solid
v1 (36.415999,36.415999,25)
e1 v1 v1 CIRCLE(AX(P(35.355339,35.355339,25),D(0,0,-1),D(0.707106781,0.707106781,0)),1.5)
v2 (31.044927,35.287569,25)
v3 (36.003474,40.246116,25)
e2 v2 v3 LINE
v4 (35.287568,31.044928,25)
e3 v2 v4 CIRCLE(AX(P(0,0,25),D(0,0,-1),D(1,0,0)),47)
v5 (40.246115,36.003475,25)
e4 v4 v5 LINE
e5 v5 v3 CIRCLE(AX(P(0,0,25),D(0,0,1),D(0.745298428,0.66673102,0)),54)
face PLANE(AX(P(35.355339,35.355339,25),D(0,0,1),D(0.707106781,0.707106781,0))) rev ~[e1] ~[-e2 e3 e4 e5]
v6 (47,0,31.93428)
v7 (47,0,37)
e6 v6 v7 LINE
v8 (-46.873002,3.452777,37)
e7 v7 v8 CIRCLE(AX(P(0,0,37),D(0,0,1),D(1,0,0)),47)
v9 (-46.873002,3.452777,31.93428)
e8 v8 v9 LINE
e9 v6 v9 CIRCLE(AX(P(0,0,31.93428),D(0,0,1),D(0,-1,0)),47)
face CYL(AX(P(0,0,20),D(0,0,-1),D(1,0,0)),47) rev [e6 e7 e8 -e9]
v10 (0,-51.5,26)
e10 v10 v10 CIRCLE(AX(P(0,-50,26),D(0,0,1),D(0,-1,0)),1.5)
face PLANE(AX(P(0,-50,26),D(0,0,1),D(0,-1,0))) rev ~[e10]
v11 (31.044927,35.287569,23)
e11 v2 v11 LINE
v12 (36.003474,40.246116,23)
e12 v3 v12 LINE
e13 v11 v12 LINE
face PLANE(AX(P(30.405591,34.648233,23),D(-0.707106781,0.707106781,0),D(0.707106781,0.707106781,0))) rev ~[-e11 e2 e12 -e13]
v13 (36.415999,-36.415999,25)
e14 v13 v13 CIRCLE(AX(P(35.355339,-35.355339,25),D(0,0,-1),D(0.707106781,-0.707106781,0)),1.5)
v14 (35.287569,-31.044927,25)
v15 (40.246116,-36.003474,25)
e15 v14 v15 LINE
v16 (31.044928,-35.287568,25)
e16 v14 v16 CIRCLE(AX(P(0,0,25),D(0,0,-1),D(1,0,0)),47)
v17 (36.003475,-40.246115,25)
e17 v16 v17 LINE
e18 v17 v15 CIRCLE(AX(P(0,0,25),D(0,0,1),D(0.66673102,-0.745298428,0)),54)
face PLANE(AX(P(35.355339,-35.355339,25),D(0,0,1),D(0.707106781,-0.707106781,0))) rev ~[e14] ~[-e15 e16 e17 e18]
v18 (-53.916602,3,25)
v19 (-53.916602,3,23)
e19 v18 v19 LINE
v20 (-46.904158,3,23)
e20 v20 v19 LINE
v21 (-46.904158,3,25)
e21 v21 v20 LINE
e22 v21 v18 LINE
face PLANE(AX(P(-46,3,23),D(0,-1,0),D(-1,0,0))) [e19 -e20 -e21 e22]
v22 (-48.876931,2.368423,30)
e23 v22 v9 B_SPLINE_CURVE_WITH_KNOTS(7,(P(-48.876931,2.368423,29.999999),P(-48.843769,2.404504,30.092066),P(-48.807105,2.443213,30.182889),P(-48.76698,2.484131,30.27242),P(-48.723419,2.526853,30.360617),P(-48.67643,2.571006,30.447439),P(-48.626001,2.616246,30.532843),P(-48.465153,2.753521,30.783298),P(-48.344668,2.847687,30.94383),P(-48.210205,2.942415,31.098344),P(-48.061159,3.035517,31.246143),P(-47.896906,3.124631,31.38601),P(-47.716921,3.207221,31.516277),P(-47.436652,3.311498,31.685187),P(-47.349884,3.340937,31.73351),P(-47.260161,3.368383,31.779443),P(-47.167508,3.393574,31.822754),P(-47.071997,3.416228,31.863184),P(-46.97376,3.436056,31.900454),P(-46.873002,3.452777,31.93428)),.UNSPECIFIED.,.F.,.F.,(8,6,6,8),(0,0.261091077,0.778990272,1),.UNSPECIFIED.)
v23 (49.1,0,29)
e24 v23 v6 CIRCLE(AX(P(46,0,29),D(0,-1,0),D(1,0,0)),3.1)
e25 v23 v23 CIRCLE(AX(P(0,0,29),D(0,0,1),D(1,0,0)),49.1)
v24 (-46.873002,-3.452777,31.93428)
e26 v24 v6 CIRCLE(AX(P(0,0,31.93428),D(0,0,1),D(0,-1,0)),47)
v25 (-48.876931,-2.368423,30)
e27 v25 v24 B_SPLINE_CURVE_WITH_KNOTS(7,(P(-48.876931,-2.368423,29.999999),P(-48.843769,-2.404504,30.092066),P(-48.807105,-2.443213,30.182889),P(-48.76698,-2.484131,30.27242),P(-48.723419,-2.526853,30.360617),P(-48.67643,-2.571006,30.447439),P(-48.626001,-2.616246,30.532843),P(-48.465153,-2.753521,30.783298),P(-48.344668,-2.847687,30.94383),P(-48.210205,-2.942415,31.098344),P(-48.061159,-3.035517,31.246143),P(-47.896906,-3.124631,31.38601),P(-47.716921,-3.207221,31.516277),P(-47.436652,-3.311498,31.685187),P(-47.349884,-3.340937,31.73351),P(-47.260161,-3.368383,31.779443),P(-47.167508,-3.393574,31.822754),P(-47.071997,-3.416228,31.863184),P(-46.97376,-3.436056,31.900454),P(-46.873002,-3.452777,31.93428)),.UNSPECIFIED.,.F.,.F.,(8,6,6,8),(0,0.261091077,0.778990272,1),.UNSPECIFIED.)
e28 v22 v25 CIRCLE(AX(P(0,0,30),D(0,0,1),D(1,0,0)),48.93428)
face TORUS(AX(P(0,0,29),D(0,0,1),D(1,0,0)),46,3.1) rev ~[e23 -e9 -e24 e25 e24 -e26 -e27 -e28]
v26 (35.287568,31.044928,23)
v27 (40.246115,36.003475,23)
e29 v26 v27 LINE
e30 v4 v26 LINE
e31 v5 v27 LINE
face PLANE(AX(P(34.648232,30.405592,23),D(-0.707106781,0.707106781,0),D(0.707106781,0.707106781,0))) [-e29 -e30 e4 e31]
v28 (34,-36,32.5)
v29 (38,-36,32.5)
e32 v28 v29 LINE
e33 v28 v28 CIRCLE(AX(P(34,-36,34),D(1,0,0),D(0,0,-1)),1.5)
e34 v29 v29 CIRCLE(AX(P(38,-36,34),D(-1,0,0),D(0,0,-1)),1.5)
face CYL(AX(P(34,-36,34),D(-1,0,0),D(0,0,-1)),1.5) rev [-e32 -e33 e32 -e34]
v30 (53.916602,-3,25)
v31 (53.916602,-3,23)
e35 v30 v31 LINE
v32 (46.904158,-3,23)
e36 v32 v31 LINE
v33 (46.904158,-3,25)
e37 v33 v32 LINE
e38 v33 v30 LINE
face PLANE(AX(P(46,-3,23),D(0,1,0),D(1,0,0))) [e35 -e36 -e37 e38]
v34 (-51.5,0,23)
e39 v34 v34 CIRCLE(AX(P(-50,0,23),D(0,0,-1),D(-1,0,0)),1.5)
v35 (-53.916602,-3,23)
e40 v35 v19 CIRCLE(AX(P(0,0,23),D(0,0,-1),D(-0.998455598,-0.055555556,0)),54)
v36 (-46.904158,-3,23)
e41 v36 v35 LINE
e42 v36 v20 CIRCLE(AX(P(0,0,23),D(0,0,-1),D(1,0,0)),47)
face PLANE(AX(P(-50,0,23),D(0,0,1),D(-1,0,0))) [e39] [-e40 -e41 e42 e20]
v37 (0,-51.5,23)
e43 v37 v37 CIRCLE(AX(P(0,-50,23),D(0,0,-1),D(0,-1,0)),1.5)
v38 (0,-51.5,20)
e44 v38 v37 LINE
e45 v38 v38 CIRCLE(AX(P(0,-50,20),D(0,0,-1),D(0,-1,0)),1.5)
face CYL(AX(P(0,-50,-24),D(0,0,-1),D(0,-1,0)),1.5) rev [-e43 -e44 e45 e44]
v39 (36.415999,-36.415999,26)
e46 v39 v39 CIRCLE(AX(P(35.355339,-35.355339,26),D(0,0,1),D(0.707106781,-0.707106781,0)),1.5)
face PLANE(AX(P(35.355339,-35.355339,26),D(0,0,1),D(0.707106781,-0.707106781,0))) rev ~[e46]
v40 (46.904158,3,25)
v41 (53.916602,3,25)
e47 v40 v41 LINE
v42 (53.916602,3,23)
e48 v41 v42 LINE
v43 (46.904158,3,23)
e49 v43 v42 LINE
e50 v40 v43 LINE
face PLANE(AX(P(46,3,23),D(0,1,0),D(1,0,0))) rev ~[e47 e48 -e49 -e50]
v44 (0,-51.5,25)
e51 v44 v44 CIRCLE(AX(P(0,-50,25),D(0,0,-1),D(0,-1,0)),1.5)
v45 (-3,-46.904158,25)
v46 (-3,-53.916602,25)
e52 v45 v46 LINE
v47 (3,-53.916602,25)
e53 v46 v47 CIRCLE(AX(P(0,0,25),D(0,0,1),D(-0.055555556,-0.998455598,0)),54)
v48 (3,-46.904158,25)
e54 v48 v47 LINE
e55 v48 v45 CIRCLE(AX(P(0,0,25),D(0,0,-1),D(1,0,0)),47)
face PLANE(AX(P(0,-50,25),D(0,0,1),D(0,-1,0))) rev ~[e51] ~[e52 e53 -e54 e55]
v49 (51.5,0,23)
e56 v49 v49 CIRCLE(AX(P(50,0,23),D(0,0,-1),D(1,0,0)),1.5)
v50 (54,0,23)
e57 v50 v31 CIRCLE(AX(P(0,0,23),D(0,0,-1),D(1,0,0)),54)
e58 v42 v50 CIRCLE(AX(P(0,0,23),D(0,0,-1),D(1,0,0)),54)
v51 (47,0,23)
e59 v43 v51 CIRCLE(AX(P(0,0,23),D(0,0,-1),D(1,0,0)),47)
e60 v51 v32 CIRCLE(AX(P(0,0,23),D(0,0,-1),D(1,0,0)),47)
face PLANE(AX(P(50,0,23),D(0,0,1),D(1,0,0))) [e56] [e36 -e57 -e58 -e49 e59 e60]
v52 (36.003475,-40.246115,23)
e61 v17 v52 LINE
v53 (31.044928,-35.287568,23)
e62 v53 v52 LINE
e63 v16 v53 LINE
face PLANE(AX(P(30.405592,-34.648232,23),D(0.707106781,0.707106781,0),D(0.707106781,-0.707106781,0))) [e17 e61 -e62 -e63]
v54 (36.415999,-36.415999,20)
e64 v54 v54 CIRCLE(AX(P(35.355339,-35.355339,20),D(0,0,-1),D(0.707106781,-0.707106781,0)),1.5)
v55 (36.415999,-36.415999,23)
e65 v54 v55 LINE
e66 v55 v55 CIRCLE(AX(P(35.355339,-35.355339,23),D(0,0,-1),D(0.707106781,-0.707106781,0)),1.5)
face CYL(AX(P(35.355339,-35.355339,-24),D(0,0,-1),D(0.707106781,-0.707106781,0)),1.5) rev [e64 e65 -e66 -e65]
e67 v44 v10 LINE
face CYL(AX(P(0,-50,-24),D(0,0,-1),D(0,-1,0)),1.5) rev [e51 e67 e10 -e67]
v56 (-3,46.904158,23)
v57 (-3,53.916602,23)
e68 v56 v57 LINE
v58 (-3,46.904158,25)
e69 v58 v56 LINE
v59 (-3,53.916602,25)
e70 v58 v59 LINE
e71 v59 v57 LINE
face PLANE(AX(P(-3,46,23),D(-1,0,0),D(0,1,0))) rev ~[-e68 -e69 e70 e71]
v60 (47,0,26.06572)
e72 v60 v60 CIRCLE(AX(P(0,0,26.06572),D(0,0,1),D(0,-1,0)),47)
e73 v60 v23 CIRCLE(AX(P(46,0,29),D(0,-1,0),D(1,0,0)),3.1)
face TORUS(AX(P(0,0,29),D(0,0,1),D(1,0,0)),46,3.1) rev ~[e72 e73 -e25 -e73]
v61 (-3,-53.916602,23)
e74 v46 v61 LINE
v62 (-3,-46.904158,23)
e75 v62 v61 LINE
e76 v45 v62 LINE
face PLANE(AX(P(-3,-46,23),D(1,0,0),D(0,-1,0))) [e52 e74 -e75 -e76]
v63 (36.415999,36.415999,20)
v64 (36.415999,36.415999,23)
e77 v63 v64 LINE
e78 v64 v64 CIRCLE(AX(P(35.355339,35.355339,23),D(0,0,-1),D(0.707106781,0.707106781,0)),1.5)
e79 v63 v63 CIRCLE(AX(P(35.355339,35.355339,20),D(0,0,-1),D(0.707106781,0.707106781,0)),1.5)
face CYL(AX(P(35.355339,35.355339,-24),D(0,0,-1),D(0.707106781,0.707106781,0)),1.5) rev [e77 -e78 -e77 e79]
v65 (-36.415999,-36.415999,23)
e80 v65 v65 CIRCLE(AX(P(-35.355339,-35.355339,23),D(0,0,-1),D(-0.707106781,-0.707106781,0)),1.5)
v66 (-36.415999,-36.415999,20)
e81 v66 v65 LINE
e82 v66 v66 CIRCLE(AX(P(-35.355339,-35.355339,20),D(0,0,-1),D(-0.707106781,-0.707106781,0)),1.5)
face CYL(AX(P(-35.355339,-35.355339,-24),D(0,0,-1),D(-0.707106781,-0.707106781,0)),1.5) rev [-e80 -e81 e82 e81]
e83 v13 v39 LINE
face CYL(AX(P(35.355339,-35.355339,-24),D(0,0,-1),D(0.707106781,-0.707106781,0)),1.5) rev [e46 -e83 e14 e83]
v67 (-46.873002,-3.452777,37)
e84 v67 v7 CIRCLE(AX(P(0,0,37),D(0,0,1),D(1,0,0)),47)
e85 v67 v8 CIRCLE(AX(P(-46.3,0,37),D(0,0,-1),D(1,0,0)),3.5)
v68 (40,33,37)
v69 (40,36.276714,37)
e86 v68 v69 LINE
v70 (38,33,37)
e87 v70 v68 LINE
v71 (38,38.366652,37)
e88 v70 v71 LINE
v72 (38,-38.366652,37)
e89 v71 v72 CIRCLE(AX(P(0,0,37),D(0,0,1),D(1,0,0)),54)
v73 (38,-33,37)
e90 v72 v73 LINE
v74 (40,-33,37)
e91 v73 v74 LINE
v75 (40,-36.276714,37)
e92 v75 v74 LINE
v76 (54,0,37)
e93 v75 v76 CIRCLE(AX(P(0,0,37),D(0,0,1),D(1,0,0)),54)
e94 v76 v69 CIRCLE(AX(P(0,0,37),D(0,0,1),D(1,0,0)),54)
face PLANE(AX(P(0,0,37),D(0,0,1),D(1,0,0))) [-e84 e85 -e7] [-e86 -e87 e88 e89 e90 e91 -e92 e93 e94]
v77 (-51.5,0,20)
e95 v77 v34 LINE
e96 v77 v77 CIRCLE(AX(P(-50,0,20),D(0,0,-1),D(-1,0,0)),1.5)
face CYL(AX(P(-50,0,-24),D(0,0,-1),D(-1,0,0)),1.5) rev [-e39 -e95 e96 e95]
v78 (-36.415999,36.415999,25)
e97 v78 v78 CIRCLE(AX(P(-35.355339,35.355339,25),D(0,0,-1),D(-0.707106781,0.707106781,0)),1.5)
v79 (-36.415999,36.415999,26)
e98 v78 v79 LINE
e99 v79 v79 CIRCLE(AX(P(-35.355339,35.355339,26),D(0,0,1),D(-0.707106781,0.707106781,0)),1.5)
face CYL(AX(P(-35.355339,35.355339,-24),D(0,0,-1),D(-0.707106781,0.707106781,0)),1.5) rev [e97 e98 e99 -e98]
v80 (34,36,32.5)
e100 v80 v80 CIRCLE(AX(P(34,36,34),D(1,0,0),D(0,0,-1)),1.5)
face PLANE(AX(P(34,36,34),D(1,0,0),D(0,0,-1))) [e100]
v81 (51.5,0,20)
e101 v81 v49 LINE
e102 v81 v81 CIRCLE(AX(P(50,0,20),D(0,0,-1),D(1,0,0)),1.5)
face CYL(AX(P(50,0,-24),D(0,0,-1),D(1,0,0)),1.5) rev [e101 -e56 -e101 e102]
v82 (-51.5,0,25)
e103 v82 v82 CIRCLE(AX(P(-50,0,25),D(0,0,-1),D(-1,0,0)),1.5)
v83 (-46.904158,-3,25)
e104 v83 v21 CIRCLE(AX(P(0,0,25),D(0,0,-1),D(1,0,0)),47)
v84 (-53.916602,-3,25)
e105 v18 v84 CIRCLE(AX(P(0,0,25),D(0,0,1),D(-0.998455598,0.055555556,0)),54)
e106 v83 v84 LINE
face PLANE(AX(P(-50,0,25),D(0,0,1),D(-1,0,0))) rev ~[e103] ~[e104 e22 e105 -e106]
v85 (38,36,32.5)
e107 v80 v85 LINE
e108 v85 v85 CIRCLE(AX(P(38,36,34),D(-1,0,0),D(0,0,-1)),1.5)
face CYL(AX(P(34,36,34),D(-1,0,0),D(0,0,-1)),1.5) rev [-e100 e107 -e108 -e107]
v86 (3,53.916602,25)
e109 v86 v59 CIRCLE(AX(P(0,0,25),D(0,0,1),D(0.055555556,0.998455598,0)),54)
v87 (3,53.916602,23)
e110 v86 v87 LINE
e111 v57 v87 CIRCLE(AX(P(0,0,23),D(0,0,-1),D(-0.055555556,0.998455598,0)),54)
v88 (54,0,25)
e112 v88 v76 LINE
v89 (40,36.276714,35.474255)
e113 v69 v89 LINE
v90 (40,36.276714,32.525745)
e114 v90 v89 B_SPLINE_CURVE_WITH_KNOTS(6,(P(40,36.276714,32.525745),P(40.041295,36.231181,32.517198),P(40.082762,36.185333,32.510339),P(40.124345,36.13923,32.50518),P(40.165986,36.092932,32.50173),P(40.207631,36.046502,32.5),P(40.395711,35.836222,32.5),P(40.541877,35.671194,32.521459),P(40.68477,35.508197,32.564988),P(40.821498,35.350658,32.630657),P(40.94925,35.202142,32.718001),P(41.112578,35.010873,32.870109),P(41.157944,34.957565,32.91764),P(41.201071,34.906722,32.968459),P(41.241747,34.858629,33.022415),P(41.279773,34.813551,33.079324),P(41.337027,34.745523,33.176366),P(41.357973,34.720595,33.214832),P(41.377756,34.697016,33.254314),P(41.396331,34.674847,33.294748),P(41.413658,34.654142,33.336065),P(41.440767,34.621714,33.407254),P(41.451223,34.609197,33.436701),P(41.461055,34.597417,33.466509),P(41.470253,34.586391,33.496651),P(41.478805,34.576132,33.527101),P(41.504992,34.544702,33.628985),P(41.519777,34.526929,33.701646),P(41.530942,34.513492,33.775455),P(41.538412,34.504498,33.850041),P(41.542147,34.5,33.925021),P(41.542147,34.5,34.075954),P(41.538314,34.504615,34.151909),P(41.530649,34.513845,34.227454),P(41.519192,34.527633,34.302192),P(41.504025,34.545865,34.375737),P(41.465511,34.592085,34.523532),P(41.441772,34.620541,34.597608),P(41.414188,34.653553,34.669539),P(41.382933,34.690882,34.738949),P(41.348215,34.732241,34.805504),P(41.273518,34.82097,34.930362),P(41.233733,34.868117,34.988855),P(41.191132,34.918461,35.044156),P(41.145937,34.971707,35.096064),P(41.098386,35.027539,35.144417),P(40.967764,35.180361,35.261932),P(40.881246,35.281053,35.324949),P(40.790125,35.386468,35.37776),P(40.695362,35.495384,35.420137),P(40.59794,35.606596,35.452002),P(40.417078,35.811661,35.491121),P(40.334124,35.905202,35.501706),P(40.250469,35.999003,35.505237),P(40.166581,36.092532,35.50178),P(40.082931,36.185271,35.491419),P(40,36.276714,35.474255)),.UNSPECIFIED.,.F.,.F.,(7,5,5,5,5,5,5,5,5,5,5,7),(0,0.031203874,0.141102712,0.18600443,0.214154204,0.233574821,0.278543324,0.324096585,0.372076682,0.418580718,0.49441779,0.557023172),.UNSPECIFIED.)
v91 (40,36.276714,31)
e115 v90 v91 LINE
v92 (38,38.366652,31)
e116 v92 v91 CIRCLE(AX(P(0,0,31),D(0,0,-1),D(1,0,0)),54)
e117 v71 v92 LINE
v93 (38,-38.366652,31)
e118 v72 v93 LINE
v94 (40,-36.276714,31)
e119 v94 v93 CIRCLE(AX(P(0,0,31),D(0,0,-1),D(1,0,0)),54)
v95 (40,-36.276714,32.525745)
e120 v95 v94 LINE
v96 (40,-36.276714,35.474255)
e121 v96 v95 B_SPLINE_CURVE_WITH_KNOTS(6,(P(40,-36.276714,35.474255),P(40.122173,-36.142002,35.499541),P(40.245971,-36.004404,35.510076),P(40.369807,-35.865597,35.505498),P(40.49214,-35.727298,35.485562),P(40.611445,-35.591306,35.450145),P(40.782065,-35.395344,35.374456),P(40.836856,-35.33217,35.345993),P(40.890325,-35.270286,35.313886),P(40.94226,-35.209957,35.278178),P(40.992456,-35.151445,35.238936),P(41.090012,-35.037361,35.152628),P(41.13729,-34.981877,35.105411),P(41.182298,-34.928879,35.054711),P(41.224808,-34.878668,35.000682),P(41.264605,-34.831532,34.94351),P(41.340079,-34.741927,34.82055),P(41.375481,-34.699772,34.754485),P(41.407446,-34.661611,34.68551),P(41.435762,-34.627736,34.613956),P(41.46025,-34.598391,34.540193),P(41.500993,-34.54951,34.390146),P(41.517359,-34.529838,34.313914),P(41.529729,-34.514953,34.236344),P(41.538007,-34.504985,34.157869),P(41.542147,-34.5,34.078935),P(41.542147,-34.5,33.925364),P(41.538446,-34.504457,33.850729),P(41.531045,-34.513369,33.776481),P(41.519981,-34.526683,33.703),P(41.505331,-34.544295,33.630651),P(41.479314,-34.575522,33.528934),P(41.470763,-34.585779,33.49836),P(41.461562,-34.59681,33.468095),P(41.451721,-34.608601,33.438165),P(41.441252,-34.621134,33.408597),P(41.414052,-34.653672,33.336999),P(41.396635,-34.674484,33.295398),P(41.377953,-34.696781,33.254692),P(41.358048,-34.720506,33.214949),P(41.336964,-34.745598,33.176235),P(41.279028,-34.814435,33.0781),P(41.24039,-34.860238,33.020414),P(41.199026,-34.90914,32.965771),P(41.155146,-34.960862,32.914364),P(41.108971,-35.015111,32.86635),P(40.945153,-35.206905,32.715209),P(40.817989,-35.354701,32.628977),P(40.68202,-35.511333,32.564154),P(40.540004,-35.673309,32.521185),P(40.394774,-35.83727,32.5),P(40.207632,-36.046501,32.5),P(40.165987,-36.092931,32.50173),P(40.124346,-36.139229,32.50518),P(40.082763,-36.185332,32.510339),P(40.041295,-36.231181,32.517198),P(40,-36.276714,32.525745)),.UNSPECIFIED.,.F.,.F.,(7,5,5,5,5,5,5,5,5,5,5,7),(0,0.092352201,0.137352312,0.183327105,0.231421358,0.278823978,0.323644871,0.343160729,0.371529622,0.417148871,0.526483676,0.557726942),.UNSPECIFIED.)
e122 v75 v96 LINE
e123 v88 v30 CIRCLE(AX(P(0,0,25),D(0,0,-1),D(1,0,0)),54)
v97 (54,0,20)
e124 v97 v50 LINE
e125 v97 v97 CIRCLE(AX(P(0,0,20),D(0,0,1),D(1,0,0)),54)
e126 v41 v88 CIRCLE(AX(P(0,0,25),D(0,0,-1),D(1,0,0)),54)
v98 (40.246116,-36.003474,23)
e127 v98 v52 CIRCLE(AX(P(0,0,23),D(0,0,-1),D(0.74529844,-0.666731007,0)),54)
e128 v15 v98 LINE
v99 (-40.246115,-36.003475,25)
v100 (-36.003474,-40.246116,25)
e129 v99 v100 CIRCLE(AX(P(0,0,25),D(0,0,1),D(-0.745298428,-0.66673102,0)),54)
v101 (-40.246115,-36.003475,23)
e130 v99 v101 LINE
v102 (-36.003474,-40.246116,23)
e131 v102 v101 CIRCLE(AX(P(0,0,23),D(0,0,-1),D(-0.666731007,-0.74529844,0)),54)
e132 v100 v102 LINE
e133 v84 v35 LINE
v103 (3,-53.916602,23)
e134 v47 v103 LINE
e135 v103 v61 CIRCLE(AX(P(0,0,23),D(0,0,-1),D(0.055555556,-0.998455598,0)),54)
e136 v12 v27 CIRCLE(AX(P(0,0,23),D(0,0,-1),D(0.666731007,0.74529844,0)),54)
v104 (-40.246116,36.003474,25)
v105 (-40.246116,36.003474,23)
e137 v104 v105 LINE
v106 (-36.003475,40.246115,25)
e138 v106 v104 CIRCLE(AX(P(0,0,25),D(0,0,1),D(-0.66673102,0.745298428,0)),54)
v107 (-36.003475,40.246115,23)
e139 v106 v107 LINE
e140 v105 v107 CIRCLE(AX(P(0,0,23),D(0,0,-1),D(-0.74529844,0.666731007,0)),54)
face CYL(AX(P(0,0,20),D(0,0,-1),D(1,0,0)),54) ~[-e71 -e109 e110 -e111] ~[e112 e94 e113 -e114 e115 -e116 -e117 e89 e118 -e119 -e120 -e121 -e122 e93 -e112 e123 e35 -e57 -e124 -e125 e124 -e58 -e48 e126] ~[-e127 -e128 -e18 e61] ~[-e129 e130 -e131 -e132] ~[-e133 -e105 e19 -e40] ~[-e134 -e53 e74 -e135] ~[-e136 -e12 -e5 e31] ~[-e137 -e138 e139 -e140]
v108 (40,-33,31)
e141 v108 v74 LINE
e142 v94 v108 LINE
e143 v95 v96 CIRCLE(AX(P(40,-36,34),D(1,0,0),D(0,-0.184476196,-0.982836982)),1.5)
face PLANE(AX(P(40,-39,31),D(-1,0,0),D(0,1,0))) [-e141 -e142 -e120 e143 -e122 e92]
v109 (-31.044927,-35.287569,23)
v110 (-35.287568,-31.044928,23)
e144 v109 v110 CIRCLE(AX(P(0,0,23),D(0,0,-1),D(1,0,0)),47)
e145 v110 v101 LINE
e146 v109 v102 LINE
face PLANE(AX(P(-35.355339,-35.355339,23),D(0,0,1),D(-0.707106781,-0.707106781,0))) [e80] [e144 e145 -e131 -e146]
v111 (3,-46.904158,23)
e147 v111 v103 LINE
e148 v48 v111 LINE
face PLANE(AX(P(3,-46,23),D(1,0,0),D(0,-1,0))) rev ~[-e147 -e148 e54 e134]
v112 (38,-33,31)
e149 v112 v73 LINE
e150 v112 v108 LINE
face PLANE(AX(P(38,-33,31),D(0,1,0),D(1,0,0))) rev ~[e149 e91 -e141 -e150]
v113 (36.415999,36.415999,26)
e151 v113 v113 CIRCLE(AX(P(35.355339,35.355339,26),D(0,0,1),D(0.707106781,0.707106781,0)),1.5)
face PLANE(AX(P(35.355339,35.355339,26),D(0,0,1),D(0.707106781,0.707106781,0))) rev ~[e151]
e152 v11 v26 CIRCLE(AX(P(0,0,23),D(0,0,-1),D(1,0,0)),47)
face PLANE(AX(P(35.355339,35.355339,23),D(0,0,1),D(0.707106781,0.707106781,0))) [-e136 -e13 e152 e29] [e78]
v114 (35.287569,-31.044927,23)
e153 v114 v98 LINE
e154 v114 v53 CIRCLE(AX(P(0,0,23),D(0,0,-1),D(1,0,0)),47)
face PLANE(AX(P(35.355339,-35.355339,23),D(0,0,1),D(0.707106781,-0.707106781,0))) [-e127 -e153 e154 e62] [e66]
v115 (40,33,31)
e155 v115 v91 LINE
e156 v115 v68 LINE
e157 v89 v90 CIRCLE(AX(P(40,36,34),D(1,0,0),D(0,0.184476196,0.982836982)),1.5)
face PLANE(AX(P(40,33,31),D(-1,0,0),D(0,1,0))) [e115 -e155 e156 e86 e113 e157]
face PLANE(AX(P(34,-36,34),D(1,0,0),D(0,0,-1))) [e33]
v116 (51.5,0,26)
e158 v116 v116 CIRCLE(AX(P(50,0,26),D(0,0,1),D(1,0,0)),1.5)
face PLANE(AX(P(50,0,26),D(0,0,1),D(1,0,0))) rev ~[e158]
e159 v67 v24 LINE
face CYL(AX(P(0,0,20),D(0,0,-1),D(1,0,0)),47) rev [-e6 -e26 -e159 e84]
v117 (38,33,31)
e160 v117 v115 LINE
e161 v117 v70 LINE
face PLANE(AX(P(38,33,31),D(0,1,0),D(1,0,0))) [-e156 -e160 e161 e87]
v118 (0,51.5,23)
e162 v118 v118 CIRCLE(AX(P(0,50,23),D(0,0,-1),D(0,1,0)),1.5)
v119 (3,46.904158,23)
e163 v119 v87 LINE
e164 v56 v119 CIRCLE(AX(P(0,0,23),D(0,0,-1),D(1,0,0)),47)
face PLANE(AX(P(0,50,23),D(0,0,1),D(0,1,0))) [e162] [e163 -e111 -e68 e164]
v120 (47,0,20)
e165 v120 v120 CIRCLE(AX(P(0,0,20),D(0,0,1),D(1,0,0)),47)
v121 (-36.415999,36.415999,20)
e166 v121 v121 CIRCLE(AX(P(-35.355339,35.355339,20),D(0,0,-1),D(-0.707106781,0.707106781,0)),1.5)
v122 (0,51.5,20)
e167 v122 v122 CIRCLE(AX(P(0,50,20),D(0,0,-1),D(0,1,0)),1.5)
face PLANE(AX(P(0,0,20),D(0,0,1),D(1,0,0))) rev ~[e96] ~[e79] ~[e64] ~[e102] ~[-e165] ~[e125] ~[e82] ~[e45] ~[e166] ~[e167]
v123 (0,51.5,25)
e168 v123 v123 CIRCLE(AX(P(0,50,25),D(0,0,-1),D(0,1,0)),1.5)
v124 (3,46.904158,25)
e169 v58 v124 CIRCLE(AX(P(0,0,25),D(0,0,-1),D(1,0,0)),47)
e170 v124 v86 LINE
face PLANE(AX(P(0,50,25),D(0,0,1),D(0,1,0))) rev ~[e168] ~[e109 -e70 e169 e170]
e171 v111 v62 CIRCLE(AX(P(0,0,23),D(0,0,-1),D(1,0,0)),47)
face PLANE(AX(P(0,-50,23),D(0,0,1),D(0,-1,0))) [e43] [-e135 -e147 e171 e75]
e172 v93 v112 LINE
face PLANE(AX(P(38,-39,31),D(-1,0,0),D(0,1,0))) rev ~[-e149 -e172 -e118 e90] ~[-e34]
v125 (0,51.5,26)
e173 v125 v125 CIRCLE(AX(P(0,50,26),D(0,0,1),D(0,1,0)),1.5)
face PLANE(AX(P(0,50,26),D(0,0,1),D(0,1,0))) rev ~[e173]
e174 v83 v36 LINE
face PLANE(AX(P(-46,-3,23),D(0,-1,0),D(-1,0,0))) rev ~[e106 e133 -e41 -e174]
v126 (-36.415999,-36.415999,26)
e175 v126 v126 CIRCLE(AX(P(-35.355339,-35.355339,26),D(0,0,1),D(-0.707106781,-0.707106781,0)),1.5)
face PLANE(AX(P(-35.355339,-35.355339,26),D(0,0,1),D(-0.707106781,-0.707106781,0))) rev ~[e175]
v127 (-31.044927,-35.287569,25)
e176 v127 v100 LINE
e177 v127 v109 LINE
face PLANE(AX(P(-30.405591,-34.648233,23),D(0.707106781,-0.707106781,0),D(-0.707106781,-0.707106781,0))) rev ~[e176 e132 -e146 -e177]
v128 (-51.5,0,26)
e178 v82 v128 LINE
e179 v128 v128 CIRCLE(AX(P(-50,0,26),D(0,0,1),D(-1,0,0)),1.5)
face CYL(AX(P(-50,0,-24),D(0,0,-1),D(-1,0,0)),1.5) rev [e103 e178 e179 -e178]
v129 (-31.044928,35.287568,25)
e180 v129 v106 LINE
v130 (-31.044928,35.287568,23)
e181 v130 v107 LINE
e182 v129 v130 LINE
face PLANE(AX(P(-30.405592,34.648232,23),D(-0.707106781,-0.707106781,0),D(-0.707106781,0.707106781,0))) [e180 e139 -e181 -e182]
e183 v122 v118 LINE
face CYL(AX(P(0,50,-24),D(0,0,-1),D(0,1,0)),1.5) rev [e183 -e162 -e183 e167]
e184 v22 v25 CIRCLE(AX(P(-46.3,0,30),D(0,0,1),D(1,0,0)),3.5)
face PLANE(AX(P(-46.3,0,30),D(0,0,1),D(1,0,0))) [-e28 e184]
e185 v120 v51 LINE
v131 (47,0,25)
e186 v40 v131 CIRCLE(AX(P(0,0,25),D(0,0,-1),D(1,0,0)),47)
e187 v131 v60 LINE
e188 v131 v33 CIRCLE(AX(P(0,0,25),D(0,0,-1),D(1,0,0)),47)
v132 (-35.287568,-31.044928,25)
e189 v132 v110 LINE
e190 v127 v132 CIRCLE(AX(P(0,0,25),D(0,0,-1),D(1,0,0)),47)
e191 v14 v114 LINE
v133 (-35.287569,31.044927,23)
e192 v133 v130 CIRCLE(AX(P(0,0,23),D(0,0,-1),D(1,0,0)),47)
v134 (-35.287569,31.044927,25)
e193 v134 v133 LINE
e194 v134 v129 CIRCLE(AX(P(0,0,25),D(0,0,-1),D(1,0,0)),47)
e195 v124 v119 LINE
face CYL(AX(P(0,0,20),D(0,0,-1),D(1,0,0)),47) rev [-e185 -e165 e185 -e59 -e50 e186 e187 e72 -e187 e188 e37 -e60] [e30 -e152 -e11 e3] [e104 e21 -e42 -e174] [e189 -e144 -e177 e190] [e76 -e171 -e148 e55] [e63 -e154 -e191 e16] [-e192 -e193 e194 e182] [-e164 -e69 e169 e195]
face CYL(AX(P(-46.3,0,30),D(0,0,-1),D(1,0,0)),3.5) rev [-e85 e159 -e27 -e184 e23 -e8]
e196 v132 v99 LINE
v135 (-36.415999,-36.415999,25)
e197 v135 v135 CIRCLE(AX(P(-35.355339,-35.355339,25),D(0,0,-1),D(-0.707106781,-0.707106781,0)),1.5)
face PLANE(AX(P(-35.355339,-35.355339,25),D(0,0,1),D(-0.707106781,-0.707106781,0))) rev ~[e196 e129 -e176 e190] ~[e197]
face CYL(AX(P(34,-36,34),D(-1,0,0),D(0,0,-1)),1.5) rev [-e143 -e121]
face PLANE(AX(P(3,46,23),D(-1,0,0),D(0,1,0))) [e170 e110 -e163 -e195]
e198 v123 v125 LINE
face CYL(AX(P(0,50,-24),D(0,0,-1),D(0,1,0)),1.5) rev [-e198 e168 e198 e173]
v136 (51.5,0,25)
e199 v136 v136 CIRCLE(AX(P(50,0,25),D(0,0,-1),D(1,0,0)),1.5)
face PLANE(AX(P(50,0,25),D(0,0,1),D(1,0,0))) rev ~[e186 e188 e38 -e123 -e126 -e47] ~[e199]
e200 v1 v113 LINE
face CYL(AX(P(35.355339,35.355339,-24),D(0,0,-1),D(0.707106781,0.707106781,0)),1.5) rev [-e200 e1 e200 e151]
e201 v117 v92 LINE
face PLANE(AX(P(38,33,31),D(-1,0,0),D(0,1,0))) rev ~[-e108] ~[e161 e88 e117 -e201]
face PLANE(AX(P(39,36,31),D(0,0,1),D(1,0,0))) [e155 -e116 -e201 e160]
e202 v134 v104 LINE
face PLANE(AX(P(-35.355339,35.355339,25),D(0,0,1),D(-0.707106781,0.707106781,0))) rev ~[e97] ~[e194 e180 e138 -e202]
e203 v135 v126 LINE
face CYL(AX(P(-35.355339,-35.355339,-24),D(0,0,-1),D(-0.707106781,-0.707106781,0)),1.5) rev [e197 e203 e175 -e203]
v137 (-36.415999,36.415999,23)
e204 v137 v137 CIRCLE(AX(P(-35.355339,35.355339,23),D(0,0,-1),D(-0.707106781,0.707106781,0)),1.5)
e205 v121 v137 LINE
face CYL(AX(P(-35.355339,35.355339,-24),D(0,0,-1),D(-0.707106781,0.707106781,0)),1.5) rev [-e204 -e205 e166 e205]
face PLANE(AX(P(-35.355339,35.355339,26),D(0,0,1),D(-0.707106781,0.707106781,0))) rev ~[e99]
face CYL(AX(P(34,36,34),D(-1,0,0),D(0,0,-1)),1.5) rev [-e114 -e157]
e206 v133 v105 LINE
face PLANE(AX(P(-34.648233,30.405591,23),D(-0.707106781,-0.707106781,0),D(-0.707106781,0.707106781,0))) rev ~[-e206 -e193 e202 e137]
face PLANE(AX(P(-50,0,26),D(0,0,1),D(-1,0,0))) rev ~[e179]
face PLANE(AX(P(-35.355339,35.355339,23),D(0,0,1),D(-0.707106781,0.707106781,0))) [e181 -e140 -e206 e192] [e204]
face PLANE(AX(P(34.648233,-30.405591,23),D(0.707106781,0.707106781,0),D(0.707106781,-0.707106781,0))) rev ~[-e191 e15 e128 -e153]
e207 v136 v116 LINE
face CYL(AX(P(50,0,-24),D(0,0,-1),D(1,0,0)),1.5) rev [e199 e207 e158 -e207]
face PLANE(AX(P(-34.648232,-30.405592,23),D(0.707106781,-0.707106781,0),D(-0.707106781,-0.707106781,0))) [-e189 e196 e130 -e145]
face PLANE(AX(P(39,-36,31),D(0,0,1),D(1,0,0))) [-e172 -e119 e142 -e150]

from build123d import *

# Parameters (mm, degrees)
BOX174_W                    = 2
BOX174_H                    = 6
BOX174_DEPTH                = 6
BOX175_W                    = 2
BOX175_H                    = 6
BOX175_DEPTH                = 6
BOX176_W                    = 2
BOX176_H                    = 6
BOX176_DEPTH                = 6
BOX173_W                    = 2
BOX173_H                    = 6
BOX173_DEPTH                = 6
CYLINDER397_R               = 1.5
CYLINDER397_DEPTH           = 100
CYLINDER398_R               = 1.5
CYLINDER398_DEPTH           = 100
CYLINDER395_R               = 1.5
CYLINDER395_DEPTH           = 100
CYLINDER396_R               = 1.5
CYLINDER396_DEPTH           = 100
CYLINDER375_R               = 1.5
CYLINDER375_DEPTH           = 50
CYLINDER375_PLACEMENT_ANGLE = 45
CYLINDER376_R               = 1.5
CYLINDER376_DEPTH           = 50
CYLINDER377_R               = 1.5
CYLINDER377_DEPTH           = 50
CYLINDER377_PLACEMENT_ANGLE = 135
CYLINDER378_R               = 1.5
CYLINDER378_DEPTH           = 50
CYLINDER379_R               = 1.5
CYLINDER379_DEPTH           = 50
CYLINDER379_PLACEMENT_ANGLE = 225
CYLINDER380_R               = 1.5
CYLINDER380_DEPTH           = 50
CYLINDER381_R               = 1.5
CYLINDER381_DEPTH           = 50
CYLINDER381_PLACEMENT_ANGLE = 45
CYLINDER374_R               = 1.5
CYLINDER374_DEPTH           = 50
BOX158_W                    = 8
BOX158_H                    = 6
BOX158_DEPTH                = 2
BOX158_PLACEMENT_ANGLE      = 45
BOX159_W                    = 8
BOX159_H                    = 6
BOX159_DEPTH                = 2
BOX160_W                    = 8
BOX160_H                    = 6
BOX160_DEPTH                = 2
BOX160_PLACEMENT_ANGLE      = 135
BOX161_W                    = 8
BOX161_H                    = 6
BOX161_DEPTH                = 2
BOX162_W                    = 8
BOX162_H                    = 6
BOX162_DEPTH                = 2
BOX162_PLACEMENT_ANGLE      = 225
BOX163_W                    = 8
BOX163_H                    = 6
BOX163_DEPTH                = 2
BOX164_W                    = 8
BOX164_H                    = 6
BOX164_DEPTH                = 2
BOX164_PLACEMENT_ANGLE      = 45
BOX157_W                    = 8
BOX157_H                    = 6
BOX157_DEPTH                = 2
CYLINDER006_R               = 3.5
CYLINDER006_DEPTH           = 10
TORUS004_R                  = 3.1
TUBE002_R                   = 54
TUBE002_R_2                 = 47
TUBE002_DEPTH               = 17


with BuildPart() as krychle174:
    # Box174 → Box174 (new body)
    with BuildSketch(Plane(origin=(32, -54, 22), x_dir=(1, 0, 0), z_dir=(0, 0, 1))):
        with Locations((1, 3)):
            Rectangle(BOX174_W, BOX174_H)
    extrude(amount=BOX174_DEPTH)


with BuildPart() as krychle175:
    # Box175 → Box175 (new body)
    with BuildSketch(Plane(origin=(38, 33, 31), x_dir=(1, 0, 0), z_dir=(0, 0, 1))):
        with Locations((1, 3)):
            Rectangle(BOX175_W, BOX175_H)
    extrude(amount=BOX175_DEPTH)


with BuildPart() as krychle176:
    # Box176 → Box176 (new body)
    with BuildSketch(Plane(origin=(38, -39, 31), x_dir=(1, 0, 0), z_dir=(0, 0, 1))):
        with Locations((1, 3)):
            Rectangle(BOX176_W, BOX176_H)
    extrude(amount=BOX176_DEPTH)


with BuildPart() as compound302:
    # Box173 → Box173 (new body)
    with BuildSketch(Plane(origin=(32, 48, 22), x_dir=(1, 0, 0), z_dir=(0, 0, 1))):
        with Locations((1, 3)):
            Rectangle(BOX173_W, BOX173_H)
    extrude(amount=BOX173_DEPTH)

    # Compound302: union Krychle174, Krychle175, Krychle176
    add(krychle174.part)
    add(krychle175.part)
    add(krychle176.part)


with BuildPart() as v_lec397:
    # Cylinder397 → Cylinder397 (new body)
    with BuildSketch(Plane(origin=(24, -51, 25), x_dir=(0, 0, -1), z_dir=(1, 0, 0))):
        Circle(CYLINDER397_R)
    extrude(amount=CYLINDER397_DEPTH)


with BuildPart() as v_lec398:
    # Cylinder398 → Cylinder398 (new body)
    with BuildSketch(Plane(origin=(34, 36, 34), x_dir=(0, 0, -1), z_dir=(1, 0, 0))):
        Circle(CYLINDER398_R)
    extrude(amount=CYLINDER398_DEPTH)


with BuildPart() as v_lec395:
    # Cylinder395 → Cylinder395 (new body)
    with BuildSketch(Plane(origin=(34, -36, 34), x_dir=(0, 0, -1), z_dir=(1, 0, 0))):
        Circle(CYLINDER395_R)
    extrude(amount=CYLINDER395_DEPTH)


with BuildPart() as compound303:
    # Cylinder396 → Cylinder396 (new body)
    with BuildSketch(Plane(origin=(24, 51, 25), x_dir=(0, 0, -1), z_dir=(1, 0, 0))):
        Circle(CYLINDER396_R)
    extrude(amount=CYLINDER396_DEPTH)

    # Compound303: union Válec397, Válec398, Válec395
    add(v_lec397.part)
    add(v_lec398.part)
    add(v_lec395.part)


with BuildPart() as v_lec375:
    # Cylinder375 → Cylinder375 (new body)
    with BuildSketch(Plane.XY):
        Circle(CYLINDER375_R)
    extrude(amount=CYLINDER375_DEPTH)


with BuildPart() as v_lec375_1:
    # Cylinder375 placement: moved
    add(v_lec375.part.moved(Location((35.355339, 35.355339, -15))).rotate(Axis((35.355339, 35.355339, -15), (0, 0, 1)), CYLINDER375_PLACEMENT_ANGLE))


with BuildPart() as v_lec376:
    # Cylinder376 → Cylinder376 (new body)
    with BuildSketch(Plane(origin=(0, 50, -15), x_dir=(0, 1, 0), z_dir=(0, 0, 1))):
        Circle(CYLINDER376_R)
    extrude(amount=CYLINDER376_DEPTH)


with BuildPart() as v_lec377:
    # Cylinder377 → Cylinder377 (new body)
    with BuildSketch(Plane.XY):
        Circle(CYLINDER377_R)
    extrude(amount=CYLINDER377_DEPTH)


with BuildPart() as v_lec377_1:
    # Cylinder377 placement: moved
    add(v_lec377.part.moved(Location((-35.355339, 35.355339, -15))).rotate(Axis((-35.355339, 35.355339, -15), (0, 0, 1)), CYLINDER377_PLACEMENT_ANGLE))


with BuildPart() as v_lec378:
    # Cylinder378 → Cylinder378 (new body)
    with BuildSketch(Plane(origin=(-50, 0, -15), x_dir=(-1, 0, 0), z_dir=(0, 0, 1))):
        Circle(CYLINDER378_R)
    extrude(amount=CYLINDER378_DEPTH)


with BuildPart() as v_lec379:
    # Cylinder379 → Cylinder379 (new body)
    with BuildSketch(Plane.XY):
        Circle(CYLINDER379_R)
    extrude(amount=CYLINDER379_DEPTH)


with BuildPart() as v_lec379_1:
    # Cylinder379 placement: moved
    add(v_lec379.part.moved(Location((-35.355339, -35.355339, -15))).rotate(Axis((-35.355339, -35.355339, -15), (0, 0, 1)), CYLINDER379_PLACEMENT_ANGLE))


with BuildPart() as v_lec380:
    # Cylinder380 → Cylinder380 (new body)
    with BuildSketch(Plane(origin=(0, -50, -15), x_dir=(0, -1, 0), z_dir=(0, 0, 1))):
        Circle(CYLINDER380_R)
    extrude(amount=CYLINDER380_DEPTH)


with BuildPart() as v_lec381:
    # Cylinder381 → Cylinder381 (new body)
    with BuildSketch(Plane.XY):
        Circle(CYLINDER381_R)
    extrude(amount=CYLINDER381_DEPTH)


with BuildPart() as v_lec381_1:
    # Cylinder381 placement: moved
    add(v_lec381.part.moved(Location((35.355339, -35.355339, -15))).rotate(Axis((35.355339, -35.355339, -15), (0, 0, -1)), CYLINDER381_PLACEMENT_ANGLE))


with BuildPart() as compound298:
    # Cylinder374 → Cylinder374 (new body)
    with BuildSketch(Plane(origin=(50, 0, -15), x_dir=(1, 0, 0), z_dir=(0, 0, 1))):
        Circle(CYLINDER374_R)
    extrude(amount=CYLINDER374_DEPTH)

    # Compound298: union Válec375, Válec376, Válec377, Válec378, Válec379, Válec380, Válec381
    add(v_lec375_1.part)
    add(v_lec376.part)
    add(v_lec377_1.part)
    add(v_lec378.part)
    add(v_lec379_1.part)
    add(v_lec380.part)
    add(v_lec381_1.part)


with BuildPart() as compound298_1:
    # Compound298 placement: moved
    add(compound298.part.moved(Location((0, 0, -9))))


with BuildPart() as krychle158:
    # Box158 → Box158 (new body)
    with BuildSketch(Plane.XY):
        with Locations((4, 3)):
            Rectangle(BOX158_W, BOX158_H)
    extrude(amount=BOX158_DEPTH)


with BuildPart() as krychle158_1:
    # Box158 placement: moved
    add(krychle158.part.moved(Location((34.648232, 30.405592, 23))).rotate(Axis((34.648232, 30.405592, 23), (0, 0, 1)), BOX158_PLACEMENT_ANGLE))


with BuildPart() as krychle159:
    # Box159 → Box159 (new body)
    with BuildSketch(Plane(origin=(3, 46, 23), x_dir=(0, 1, 0), z_dir=(0, 0, 1))):
        with Locations((4, 3)):
            Rectangle(BOX159_W, BOX159_H)
    extrude(amount=BOX159_DEPTH)


with BuildPart() as krychle160:
    # Box160 → Box160 (new body)
    with BuildSketch(Plane.XY):
        with Locations((4, 3)):
            Rectangle(BOX160_W, BOX160_H)
    extrude(amount=BOX160_DEPTH)


with BuildPart() as krychle160_1:
    # Box160 placement: moved
    add(krychle160.part.moved(Location((-30.405592, 34.648232, 23))).rotate(Axis((-30.405592, 34.648232, 23), (0, 0, 1)), BOX160_PLACEMENT_ANGLE))


with BuildPart() as krychle161:
    # Box161 → Box161 (new body)
    with BuildSketch(Plane(origin=(-46, 3, 23), x_dir=(-1, 0, 0), z_dir=(0, 0, 1))):
        with Locations((4, 3)):
            Rectangle(BOX161_W, BOX161_H)
    extrude(amount=BOX161_DEPTH)


with BuildPart() as krychle162:
    # Box162 → Box162 (new body)
    with BuildSketch(Plane.XY):
        with Locations((4, 3)):
            Rectangle(BOX162_W, BOX162_H)
    extrude(amount=BOX162_DEPTH)


with BuildPart() as krychle162_1:
    # Box162 placement: moved
    add(krychle162.part.moved(Location((-34.648232, -30.405592, 23))).rotate(Axis((-34.648232, -30.405592, 23), (0, 0, 1)), BOX162_PLACEMENT_ANGLE))


with BuildPart() as krychle163:
    # Box163 → Box163 (new body)
    with BuildSketch(Plane(origin=(-3, -46, 23), x_dir=(0, -1, 0), z_dir=(0, 0, 1))):
        with Locations((4, 3)):
            Rectangle(BOX163_W, BOX163_H)
    extrude(amount=BOX163_DEPTH)


with BuildPart() as krychle164:
    # Box164 → Box164 (new body)
    with BuildSketch(Plane.XY):
        with Locations((4, 3)):
            Rectangle(BOX164_W, BOX164_H)
    extrude(amount=BOX164_DEPTH)


with BuildPart() as krychle164_1:
    # Box164 placement: moved
    add(krychle164.part.moved(Location((30.405592, -34.648232, 23))).rotate(Axis((30.405592, -34.648232, 23), (0, 0, -1)), BOX164_PLACEMENT_ANGLE))


with BuildPart() as compound297:
    # Box157 → Box157 (new body)
    with BuildSketch(Plane(origin=(46, -3, 23), x_dir=(1, 0, 0), z_dir=(0, 0, 1))):
        with Locations((4, 3)):
            Rectangle(BOX157_W, BOX157_H)
    extrude(amount=BOX157_DEPTH)

    # Compound297: union Krychle158, Krychle159, Krychle160, Krychle161, Krychle162, Krychle163, Krychle164
    add(krychle158_1.part)
    add(krychle159.part)
    add(krychle160_1.part)
    add(krychle161.part)
    add(krychle162_1.part)
    add(krychle163.part)
    add(krychle164_1.part)


with BuildPart() as v_lec006:
    # Cylinder006 → Cylinder006 (new body)
    with BuildSketch(Plane(origin=(-46.3, 0, 30), x_dir=(1, 0, 0), z_dir=(0, 0, 1))):
        Circle(CYLINDER006_R)
    extrude(amount=CYLINDER006_DEPTH)


with BuildPart() as anuloid004:
    # Torus004 → Torus004 (revolve)
    with BuildSketch(Plane(origin=(0, 0, 29), x_dir=(1, 0, 0), z_dir=(0, -1, 0))):
        with Locations((46, 0)):
            Circle(TORUS004_R)
    revolve(axis=Axis((0, 0, 29), (0, 0, 1)))


with BuildPart() as cut160:
    # Tube002 → Tube002 (new body)
    with BuildSketch(Plane.XY.offset(20)):
        Circle(TUBE002_R)
        Circle(TUBE002_R_2, mode=Mode.SUBTRACT)
    extrude(amount=TUBE002_DEPTH)

    # Cut009: cut Anuloid004
    add(anuloid004.part, mode=Mode.SUBTRACT)

    # Cut010: cut Válec006
    add(v_lec006.part, mode=Mode.SUBTRACT)

    # Cut151: cut Compound297
    add(compound297.part, mode=Mode.SUBTRACT)

    # Cut152: cut Compound298
    add(compound298_1.part, mode=Mode.SUBTRACT)

    # Cut159: cut Compound303
    add(compound303.part, mode=Mode.SUBTRACT)

    # Cut160: cut Compound302
    add(compound302.part, mode=Mode.SUBTRACT)


solid = cut160.part
